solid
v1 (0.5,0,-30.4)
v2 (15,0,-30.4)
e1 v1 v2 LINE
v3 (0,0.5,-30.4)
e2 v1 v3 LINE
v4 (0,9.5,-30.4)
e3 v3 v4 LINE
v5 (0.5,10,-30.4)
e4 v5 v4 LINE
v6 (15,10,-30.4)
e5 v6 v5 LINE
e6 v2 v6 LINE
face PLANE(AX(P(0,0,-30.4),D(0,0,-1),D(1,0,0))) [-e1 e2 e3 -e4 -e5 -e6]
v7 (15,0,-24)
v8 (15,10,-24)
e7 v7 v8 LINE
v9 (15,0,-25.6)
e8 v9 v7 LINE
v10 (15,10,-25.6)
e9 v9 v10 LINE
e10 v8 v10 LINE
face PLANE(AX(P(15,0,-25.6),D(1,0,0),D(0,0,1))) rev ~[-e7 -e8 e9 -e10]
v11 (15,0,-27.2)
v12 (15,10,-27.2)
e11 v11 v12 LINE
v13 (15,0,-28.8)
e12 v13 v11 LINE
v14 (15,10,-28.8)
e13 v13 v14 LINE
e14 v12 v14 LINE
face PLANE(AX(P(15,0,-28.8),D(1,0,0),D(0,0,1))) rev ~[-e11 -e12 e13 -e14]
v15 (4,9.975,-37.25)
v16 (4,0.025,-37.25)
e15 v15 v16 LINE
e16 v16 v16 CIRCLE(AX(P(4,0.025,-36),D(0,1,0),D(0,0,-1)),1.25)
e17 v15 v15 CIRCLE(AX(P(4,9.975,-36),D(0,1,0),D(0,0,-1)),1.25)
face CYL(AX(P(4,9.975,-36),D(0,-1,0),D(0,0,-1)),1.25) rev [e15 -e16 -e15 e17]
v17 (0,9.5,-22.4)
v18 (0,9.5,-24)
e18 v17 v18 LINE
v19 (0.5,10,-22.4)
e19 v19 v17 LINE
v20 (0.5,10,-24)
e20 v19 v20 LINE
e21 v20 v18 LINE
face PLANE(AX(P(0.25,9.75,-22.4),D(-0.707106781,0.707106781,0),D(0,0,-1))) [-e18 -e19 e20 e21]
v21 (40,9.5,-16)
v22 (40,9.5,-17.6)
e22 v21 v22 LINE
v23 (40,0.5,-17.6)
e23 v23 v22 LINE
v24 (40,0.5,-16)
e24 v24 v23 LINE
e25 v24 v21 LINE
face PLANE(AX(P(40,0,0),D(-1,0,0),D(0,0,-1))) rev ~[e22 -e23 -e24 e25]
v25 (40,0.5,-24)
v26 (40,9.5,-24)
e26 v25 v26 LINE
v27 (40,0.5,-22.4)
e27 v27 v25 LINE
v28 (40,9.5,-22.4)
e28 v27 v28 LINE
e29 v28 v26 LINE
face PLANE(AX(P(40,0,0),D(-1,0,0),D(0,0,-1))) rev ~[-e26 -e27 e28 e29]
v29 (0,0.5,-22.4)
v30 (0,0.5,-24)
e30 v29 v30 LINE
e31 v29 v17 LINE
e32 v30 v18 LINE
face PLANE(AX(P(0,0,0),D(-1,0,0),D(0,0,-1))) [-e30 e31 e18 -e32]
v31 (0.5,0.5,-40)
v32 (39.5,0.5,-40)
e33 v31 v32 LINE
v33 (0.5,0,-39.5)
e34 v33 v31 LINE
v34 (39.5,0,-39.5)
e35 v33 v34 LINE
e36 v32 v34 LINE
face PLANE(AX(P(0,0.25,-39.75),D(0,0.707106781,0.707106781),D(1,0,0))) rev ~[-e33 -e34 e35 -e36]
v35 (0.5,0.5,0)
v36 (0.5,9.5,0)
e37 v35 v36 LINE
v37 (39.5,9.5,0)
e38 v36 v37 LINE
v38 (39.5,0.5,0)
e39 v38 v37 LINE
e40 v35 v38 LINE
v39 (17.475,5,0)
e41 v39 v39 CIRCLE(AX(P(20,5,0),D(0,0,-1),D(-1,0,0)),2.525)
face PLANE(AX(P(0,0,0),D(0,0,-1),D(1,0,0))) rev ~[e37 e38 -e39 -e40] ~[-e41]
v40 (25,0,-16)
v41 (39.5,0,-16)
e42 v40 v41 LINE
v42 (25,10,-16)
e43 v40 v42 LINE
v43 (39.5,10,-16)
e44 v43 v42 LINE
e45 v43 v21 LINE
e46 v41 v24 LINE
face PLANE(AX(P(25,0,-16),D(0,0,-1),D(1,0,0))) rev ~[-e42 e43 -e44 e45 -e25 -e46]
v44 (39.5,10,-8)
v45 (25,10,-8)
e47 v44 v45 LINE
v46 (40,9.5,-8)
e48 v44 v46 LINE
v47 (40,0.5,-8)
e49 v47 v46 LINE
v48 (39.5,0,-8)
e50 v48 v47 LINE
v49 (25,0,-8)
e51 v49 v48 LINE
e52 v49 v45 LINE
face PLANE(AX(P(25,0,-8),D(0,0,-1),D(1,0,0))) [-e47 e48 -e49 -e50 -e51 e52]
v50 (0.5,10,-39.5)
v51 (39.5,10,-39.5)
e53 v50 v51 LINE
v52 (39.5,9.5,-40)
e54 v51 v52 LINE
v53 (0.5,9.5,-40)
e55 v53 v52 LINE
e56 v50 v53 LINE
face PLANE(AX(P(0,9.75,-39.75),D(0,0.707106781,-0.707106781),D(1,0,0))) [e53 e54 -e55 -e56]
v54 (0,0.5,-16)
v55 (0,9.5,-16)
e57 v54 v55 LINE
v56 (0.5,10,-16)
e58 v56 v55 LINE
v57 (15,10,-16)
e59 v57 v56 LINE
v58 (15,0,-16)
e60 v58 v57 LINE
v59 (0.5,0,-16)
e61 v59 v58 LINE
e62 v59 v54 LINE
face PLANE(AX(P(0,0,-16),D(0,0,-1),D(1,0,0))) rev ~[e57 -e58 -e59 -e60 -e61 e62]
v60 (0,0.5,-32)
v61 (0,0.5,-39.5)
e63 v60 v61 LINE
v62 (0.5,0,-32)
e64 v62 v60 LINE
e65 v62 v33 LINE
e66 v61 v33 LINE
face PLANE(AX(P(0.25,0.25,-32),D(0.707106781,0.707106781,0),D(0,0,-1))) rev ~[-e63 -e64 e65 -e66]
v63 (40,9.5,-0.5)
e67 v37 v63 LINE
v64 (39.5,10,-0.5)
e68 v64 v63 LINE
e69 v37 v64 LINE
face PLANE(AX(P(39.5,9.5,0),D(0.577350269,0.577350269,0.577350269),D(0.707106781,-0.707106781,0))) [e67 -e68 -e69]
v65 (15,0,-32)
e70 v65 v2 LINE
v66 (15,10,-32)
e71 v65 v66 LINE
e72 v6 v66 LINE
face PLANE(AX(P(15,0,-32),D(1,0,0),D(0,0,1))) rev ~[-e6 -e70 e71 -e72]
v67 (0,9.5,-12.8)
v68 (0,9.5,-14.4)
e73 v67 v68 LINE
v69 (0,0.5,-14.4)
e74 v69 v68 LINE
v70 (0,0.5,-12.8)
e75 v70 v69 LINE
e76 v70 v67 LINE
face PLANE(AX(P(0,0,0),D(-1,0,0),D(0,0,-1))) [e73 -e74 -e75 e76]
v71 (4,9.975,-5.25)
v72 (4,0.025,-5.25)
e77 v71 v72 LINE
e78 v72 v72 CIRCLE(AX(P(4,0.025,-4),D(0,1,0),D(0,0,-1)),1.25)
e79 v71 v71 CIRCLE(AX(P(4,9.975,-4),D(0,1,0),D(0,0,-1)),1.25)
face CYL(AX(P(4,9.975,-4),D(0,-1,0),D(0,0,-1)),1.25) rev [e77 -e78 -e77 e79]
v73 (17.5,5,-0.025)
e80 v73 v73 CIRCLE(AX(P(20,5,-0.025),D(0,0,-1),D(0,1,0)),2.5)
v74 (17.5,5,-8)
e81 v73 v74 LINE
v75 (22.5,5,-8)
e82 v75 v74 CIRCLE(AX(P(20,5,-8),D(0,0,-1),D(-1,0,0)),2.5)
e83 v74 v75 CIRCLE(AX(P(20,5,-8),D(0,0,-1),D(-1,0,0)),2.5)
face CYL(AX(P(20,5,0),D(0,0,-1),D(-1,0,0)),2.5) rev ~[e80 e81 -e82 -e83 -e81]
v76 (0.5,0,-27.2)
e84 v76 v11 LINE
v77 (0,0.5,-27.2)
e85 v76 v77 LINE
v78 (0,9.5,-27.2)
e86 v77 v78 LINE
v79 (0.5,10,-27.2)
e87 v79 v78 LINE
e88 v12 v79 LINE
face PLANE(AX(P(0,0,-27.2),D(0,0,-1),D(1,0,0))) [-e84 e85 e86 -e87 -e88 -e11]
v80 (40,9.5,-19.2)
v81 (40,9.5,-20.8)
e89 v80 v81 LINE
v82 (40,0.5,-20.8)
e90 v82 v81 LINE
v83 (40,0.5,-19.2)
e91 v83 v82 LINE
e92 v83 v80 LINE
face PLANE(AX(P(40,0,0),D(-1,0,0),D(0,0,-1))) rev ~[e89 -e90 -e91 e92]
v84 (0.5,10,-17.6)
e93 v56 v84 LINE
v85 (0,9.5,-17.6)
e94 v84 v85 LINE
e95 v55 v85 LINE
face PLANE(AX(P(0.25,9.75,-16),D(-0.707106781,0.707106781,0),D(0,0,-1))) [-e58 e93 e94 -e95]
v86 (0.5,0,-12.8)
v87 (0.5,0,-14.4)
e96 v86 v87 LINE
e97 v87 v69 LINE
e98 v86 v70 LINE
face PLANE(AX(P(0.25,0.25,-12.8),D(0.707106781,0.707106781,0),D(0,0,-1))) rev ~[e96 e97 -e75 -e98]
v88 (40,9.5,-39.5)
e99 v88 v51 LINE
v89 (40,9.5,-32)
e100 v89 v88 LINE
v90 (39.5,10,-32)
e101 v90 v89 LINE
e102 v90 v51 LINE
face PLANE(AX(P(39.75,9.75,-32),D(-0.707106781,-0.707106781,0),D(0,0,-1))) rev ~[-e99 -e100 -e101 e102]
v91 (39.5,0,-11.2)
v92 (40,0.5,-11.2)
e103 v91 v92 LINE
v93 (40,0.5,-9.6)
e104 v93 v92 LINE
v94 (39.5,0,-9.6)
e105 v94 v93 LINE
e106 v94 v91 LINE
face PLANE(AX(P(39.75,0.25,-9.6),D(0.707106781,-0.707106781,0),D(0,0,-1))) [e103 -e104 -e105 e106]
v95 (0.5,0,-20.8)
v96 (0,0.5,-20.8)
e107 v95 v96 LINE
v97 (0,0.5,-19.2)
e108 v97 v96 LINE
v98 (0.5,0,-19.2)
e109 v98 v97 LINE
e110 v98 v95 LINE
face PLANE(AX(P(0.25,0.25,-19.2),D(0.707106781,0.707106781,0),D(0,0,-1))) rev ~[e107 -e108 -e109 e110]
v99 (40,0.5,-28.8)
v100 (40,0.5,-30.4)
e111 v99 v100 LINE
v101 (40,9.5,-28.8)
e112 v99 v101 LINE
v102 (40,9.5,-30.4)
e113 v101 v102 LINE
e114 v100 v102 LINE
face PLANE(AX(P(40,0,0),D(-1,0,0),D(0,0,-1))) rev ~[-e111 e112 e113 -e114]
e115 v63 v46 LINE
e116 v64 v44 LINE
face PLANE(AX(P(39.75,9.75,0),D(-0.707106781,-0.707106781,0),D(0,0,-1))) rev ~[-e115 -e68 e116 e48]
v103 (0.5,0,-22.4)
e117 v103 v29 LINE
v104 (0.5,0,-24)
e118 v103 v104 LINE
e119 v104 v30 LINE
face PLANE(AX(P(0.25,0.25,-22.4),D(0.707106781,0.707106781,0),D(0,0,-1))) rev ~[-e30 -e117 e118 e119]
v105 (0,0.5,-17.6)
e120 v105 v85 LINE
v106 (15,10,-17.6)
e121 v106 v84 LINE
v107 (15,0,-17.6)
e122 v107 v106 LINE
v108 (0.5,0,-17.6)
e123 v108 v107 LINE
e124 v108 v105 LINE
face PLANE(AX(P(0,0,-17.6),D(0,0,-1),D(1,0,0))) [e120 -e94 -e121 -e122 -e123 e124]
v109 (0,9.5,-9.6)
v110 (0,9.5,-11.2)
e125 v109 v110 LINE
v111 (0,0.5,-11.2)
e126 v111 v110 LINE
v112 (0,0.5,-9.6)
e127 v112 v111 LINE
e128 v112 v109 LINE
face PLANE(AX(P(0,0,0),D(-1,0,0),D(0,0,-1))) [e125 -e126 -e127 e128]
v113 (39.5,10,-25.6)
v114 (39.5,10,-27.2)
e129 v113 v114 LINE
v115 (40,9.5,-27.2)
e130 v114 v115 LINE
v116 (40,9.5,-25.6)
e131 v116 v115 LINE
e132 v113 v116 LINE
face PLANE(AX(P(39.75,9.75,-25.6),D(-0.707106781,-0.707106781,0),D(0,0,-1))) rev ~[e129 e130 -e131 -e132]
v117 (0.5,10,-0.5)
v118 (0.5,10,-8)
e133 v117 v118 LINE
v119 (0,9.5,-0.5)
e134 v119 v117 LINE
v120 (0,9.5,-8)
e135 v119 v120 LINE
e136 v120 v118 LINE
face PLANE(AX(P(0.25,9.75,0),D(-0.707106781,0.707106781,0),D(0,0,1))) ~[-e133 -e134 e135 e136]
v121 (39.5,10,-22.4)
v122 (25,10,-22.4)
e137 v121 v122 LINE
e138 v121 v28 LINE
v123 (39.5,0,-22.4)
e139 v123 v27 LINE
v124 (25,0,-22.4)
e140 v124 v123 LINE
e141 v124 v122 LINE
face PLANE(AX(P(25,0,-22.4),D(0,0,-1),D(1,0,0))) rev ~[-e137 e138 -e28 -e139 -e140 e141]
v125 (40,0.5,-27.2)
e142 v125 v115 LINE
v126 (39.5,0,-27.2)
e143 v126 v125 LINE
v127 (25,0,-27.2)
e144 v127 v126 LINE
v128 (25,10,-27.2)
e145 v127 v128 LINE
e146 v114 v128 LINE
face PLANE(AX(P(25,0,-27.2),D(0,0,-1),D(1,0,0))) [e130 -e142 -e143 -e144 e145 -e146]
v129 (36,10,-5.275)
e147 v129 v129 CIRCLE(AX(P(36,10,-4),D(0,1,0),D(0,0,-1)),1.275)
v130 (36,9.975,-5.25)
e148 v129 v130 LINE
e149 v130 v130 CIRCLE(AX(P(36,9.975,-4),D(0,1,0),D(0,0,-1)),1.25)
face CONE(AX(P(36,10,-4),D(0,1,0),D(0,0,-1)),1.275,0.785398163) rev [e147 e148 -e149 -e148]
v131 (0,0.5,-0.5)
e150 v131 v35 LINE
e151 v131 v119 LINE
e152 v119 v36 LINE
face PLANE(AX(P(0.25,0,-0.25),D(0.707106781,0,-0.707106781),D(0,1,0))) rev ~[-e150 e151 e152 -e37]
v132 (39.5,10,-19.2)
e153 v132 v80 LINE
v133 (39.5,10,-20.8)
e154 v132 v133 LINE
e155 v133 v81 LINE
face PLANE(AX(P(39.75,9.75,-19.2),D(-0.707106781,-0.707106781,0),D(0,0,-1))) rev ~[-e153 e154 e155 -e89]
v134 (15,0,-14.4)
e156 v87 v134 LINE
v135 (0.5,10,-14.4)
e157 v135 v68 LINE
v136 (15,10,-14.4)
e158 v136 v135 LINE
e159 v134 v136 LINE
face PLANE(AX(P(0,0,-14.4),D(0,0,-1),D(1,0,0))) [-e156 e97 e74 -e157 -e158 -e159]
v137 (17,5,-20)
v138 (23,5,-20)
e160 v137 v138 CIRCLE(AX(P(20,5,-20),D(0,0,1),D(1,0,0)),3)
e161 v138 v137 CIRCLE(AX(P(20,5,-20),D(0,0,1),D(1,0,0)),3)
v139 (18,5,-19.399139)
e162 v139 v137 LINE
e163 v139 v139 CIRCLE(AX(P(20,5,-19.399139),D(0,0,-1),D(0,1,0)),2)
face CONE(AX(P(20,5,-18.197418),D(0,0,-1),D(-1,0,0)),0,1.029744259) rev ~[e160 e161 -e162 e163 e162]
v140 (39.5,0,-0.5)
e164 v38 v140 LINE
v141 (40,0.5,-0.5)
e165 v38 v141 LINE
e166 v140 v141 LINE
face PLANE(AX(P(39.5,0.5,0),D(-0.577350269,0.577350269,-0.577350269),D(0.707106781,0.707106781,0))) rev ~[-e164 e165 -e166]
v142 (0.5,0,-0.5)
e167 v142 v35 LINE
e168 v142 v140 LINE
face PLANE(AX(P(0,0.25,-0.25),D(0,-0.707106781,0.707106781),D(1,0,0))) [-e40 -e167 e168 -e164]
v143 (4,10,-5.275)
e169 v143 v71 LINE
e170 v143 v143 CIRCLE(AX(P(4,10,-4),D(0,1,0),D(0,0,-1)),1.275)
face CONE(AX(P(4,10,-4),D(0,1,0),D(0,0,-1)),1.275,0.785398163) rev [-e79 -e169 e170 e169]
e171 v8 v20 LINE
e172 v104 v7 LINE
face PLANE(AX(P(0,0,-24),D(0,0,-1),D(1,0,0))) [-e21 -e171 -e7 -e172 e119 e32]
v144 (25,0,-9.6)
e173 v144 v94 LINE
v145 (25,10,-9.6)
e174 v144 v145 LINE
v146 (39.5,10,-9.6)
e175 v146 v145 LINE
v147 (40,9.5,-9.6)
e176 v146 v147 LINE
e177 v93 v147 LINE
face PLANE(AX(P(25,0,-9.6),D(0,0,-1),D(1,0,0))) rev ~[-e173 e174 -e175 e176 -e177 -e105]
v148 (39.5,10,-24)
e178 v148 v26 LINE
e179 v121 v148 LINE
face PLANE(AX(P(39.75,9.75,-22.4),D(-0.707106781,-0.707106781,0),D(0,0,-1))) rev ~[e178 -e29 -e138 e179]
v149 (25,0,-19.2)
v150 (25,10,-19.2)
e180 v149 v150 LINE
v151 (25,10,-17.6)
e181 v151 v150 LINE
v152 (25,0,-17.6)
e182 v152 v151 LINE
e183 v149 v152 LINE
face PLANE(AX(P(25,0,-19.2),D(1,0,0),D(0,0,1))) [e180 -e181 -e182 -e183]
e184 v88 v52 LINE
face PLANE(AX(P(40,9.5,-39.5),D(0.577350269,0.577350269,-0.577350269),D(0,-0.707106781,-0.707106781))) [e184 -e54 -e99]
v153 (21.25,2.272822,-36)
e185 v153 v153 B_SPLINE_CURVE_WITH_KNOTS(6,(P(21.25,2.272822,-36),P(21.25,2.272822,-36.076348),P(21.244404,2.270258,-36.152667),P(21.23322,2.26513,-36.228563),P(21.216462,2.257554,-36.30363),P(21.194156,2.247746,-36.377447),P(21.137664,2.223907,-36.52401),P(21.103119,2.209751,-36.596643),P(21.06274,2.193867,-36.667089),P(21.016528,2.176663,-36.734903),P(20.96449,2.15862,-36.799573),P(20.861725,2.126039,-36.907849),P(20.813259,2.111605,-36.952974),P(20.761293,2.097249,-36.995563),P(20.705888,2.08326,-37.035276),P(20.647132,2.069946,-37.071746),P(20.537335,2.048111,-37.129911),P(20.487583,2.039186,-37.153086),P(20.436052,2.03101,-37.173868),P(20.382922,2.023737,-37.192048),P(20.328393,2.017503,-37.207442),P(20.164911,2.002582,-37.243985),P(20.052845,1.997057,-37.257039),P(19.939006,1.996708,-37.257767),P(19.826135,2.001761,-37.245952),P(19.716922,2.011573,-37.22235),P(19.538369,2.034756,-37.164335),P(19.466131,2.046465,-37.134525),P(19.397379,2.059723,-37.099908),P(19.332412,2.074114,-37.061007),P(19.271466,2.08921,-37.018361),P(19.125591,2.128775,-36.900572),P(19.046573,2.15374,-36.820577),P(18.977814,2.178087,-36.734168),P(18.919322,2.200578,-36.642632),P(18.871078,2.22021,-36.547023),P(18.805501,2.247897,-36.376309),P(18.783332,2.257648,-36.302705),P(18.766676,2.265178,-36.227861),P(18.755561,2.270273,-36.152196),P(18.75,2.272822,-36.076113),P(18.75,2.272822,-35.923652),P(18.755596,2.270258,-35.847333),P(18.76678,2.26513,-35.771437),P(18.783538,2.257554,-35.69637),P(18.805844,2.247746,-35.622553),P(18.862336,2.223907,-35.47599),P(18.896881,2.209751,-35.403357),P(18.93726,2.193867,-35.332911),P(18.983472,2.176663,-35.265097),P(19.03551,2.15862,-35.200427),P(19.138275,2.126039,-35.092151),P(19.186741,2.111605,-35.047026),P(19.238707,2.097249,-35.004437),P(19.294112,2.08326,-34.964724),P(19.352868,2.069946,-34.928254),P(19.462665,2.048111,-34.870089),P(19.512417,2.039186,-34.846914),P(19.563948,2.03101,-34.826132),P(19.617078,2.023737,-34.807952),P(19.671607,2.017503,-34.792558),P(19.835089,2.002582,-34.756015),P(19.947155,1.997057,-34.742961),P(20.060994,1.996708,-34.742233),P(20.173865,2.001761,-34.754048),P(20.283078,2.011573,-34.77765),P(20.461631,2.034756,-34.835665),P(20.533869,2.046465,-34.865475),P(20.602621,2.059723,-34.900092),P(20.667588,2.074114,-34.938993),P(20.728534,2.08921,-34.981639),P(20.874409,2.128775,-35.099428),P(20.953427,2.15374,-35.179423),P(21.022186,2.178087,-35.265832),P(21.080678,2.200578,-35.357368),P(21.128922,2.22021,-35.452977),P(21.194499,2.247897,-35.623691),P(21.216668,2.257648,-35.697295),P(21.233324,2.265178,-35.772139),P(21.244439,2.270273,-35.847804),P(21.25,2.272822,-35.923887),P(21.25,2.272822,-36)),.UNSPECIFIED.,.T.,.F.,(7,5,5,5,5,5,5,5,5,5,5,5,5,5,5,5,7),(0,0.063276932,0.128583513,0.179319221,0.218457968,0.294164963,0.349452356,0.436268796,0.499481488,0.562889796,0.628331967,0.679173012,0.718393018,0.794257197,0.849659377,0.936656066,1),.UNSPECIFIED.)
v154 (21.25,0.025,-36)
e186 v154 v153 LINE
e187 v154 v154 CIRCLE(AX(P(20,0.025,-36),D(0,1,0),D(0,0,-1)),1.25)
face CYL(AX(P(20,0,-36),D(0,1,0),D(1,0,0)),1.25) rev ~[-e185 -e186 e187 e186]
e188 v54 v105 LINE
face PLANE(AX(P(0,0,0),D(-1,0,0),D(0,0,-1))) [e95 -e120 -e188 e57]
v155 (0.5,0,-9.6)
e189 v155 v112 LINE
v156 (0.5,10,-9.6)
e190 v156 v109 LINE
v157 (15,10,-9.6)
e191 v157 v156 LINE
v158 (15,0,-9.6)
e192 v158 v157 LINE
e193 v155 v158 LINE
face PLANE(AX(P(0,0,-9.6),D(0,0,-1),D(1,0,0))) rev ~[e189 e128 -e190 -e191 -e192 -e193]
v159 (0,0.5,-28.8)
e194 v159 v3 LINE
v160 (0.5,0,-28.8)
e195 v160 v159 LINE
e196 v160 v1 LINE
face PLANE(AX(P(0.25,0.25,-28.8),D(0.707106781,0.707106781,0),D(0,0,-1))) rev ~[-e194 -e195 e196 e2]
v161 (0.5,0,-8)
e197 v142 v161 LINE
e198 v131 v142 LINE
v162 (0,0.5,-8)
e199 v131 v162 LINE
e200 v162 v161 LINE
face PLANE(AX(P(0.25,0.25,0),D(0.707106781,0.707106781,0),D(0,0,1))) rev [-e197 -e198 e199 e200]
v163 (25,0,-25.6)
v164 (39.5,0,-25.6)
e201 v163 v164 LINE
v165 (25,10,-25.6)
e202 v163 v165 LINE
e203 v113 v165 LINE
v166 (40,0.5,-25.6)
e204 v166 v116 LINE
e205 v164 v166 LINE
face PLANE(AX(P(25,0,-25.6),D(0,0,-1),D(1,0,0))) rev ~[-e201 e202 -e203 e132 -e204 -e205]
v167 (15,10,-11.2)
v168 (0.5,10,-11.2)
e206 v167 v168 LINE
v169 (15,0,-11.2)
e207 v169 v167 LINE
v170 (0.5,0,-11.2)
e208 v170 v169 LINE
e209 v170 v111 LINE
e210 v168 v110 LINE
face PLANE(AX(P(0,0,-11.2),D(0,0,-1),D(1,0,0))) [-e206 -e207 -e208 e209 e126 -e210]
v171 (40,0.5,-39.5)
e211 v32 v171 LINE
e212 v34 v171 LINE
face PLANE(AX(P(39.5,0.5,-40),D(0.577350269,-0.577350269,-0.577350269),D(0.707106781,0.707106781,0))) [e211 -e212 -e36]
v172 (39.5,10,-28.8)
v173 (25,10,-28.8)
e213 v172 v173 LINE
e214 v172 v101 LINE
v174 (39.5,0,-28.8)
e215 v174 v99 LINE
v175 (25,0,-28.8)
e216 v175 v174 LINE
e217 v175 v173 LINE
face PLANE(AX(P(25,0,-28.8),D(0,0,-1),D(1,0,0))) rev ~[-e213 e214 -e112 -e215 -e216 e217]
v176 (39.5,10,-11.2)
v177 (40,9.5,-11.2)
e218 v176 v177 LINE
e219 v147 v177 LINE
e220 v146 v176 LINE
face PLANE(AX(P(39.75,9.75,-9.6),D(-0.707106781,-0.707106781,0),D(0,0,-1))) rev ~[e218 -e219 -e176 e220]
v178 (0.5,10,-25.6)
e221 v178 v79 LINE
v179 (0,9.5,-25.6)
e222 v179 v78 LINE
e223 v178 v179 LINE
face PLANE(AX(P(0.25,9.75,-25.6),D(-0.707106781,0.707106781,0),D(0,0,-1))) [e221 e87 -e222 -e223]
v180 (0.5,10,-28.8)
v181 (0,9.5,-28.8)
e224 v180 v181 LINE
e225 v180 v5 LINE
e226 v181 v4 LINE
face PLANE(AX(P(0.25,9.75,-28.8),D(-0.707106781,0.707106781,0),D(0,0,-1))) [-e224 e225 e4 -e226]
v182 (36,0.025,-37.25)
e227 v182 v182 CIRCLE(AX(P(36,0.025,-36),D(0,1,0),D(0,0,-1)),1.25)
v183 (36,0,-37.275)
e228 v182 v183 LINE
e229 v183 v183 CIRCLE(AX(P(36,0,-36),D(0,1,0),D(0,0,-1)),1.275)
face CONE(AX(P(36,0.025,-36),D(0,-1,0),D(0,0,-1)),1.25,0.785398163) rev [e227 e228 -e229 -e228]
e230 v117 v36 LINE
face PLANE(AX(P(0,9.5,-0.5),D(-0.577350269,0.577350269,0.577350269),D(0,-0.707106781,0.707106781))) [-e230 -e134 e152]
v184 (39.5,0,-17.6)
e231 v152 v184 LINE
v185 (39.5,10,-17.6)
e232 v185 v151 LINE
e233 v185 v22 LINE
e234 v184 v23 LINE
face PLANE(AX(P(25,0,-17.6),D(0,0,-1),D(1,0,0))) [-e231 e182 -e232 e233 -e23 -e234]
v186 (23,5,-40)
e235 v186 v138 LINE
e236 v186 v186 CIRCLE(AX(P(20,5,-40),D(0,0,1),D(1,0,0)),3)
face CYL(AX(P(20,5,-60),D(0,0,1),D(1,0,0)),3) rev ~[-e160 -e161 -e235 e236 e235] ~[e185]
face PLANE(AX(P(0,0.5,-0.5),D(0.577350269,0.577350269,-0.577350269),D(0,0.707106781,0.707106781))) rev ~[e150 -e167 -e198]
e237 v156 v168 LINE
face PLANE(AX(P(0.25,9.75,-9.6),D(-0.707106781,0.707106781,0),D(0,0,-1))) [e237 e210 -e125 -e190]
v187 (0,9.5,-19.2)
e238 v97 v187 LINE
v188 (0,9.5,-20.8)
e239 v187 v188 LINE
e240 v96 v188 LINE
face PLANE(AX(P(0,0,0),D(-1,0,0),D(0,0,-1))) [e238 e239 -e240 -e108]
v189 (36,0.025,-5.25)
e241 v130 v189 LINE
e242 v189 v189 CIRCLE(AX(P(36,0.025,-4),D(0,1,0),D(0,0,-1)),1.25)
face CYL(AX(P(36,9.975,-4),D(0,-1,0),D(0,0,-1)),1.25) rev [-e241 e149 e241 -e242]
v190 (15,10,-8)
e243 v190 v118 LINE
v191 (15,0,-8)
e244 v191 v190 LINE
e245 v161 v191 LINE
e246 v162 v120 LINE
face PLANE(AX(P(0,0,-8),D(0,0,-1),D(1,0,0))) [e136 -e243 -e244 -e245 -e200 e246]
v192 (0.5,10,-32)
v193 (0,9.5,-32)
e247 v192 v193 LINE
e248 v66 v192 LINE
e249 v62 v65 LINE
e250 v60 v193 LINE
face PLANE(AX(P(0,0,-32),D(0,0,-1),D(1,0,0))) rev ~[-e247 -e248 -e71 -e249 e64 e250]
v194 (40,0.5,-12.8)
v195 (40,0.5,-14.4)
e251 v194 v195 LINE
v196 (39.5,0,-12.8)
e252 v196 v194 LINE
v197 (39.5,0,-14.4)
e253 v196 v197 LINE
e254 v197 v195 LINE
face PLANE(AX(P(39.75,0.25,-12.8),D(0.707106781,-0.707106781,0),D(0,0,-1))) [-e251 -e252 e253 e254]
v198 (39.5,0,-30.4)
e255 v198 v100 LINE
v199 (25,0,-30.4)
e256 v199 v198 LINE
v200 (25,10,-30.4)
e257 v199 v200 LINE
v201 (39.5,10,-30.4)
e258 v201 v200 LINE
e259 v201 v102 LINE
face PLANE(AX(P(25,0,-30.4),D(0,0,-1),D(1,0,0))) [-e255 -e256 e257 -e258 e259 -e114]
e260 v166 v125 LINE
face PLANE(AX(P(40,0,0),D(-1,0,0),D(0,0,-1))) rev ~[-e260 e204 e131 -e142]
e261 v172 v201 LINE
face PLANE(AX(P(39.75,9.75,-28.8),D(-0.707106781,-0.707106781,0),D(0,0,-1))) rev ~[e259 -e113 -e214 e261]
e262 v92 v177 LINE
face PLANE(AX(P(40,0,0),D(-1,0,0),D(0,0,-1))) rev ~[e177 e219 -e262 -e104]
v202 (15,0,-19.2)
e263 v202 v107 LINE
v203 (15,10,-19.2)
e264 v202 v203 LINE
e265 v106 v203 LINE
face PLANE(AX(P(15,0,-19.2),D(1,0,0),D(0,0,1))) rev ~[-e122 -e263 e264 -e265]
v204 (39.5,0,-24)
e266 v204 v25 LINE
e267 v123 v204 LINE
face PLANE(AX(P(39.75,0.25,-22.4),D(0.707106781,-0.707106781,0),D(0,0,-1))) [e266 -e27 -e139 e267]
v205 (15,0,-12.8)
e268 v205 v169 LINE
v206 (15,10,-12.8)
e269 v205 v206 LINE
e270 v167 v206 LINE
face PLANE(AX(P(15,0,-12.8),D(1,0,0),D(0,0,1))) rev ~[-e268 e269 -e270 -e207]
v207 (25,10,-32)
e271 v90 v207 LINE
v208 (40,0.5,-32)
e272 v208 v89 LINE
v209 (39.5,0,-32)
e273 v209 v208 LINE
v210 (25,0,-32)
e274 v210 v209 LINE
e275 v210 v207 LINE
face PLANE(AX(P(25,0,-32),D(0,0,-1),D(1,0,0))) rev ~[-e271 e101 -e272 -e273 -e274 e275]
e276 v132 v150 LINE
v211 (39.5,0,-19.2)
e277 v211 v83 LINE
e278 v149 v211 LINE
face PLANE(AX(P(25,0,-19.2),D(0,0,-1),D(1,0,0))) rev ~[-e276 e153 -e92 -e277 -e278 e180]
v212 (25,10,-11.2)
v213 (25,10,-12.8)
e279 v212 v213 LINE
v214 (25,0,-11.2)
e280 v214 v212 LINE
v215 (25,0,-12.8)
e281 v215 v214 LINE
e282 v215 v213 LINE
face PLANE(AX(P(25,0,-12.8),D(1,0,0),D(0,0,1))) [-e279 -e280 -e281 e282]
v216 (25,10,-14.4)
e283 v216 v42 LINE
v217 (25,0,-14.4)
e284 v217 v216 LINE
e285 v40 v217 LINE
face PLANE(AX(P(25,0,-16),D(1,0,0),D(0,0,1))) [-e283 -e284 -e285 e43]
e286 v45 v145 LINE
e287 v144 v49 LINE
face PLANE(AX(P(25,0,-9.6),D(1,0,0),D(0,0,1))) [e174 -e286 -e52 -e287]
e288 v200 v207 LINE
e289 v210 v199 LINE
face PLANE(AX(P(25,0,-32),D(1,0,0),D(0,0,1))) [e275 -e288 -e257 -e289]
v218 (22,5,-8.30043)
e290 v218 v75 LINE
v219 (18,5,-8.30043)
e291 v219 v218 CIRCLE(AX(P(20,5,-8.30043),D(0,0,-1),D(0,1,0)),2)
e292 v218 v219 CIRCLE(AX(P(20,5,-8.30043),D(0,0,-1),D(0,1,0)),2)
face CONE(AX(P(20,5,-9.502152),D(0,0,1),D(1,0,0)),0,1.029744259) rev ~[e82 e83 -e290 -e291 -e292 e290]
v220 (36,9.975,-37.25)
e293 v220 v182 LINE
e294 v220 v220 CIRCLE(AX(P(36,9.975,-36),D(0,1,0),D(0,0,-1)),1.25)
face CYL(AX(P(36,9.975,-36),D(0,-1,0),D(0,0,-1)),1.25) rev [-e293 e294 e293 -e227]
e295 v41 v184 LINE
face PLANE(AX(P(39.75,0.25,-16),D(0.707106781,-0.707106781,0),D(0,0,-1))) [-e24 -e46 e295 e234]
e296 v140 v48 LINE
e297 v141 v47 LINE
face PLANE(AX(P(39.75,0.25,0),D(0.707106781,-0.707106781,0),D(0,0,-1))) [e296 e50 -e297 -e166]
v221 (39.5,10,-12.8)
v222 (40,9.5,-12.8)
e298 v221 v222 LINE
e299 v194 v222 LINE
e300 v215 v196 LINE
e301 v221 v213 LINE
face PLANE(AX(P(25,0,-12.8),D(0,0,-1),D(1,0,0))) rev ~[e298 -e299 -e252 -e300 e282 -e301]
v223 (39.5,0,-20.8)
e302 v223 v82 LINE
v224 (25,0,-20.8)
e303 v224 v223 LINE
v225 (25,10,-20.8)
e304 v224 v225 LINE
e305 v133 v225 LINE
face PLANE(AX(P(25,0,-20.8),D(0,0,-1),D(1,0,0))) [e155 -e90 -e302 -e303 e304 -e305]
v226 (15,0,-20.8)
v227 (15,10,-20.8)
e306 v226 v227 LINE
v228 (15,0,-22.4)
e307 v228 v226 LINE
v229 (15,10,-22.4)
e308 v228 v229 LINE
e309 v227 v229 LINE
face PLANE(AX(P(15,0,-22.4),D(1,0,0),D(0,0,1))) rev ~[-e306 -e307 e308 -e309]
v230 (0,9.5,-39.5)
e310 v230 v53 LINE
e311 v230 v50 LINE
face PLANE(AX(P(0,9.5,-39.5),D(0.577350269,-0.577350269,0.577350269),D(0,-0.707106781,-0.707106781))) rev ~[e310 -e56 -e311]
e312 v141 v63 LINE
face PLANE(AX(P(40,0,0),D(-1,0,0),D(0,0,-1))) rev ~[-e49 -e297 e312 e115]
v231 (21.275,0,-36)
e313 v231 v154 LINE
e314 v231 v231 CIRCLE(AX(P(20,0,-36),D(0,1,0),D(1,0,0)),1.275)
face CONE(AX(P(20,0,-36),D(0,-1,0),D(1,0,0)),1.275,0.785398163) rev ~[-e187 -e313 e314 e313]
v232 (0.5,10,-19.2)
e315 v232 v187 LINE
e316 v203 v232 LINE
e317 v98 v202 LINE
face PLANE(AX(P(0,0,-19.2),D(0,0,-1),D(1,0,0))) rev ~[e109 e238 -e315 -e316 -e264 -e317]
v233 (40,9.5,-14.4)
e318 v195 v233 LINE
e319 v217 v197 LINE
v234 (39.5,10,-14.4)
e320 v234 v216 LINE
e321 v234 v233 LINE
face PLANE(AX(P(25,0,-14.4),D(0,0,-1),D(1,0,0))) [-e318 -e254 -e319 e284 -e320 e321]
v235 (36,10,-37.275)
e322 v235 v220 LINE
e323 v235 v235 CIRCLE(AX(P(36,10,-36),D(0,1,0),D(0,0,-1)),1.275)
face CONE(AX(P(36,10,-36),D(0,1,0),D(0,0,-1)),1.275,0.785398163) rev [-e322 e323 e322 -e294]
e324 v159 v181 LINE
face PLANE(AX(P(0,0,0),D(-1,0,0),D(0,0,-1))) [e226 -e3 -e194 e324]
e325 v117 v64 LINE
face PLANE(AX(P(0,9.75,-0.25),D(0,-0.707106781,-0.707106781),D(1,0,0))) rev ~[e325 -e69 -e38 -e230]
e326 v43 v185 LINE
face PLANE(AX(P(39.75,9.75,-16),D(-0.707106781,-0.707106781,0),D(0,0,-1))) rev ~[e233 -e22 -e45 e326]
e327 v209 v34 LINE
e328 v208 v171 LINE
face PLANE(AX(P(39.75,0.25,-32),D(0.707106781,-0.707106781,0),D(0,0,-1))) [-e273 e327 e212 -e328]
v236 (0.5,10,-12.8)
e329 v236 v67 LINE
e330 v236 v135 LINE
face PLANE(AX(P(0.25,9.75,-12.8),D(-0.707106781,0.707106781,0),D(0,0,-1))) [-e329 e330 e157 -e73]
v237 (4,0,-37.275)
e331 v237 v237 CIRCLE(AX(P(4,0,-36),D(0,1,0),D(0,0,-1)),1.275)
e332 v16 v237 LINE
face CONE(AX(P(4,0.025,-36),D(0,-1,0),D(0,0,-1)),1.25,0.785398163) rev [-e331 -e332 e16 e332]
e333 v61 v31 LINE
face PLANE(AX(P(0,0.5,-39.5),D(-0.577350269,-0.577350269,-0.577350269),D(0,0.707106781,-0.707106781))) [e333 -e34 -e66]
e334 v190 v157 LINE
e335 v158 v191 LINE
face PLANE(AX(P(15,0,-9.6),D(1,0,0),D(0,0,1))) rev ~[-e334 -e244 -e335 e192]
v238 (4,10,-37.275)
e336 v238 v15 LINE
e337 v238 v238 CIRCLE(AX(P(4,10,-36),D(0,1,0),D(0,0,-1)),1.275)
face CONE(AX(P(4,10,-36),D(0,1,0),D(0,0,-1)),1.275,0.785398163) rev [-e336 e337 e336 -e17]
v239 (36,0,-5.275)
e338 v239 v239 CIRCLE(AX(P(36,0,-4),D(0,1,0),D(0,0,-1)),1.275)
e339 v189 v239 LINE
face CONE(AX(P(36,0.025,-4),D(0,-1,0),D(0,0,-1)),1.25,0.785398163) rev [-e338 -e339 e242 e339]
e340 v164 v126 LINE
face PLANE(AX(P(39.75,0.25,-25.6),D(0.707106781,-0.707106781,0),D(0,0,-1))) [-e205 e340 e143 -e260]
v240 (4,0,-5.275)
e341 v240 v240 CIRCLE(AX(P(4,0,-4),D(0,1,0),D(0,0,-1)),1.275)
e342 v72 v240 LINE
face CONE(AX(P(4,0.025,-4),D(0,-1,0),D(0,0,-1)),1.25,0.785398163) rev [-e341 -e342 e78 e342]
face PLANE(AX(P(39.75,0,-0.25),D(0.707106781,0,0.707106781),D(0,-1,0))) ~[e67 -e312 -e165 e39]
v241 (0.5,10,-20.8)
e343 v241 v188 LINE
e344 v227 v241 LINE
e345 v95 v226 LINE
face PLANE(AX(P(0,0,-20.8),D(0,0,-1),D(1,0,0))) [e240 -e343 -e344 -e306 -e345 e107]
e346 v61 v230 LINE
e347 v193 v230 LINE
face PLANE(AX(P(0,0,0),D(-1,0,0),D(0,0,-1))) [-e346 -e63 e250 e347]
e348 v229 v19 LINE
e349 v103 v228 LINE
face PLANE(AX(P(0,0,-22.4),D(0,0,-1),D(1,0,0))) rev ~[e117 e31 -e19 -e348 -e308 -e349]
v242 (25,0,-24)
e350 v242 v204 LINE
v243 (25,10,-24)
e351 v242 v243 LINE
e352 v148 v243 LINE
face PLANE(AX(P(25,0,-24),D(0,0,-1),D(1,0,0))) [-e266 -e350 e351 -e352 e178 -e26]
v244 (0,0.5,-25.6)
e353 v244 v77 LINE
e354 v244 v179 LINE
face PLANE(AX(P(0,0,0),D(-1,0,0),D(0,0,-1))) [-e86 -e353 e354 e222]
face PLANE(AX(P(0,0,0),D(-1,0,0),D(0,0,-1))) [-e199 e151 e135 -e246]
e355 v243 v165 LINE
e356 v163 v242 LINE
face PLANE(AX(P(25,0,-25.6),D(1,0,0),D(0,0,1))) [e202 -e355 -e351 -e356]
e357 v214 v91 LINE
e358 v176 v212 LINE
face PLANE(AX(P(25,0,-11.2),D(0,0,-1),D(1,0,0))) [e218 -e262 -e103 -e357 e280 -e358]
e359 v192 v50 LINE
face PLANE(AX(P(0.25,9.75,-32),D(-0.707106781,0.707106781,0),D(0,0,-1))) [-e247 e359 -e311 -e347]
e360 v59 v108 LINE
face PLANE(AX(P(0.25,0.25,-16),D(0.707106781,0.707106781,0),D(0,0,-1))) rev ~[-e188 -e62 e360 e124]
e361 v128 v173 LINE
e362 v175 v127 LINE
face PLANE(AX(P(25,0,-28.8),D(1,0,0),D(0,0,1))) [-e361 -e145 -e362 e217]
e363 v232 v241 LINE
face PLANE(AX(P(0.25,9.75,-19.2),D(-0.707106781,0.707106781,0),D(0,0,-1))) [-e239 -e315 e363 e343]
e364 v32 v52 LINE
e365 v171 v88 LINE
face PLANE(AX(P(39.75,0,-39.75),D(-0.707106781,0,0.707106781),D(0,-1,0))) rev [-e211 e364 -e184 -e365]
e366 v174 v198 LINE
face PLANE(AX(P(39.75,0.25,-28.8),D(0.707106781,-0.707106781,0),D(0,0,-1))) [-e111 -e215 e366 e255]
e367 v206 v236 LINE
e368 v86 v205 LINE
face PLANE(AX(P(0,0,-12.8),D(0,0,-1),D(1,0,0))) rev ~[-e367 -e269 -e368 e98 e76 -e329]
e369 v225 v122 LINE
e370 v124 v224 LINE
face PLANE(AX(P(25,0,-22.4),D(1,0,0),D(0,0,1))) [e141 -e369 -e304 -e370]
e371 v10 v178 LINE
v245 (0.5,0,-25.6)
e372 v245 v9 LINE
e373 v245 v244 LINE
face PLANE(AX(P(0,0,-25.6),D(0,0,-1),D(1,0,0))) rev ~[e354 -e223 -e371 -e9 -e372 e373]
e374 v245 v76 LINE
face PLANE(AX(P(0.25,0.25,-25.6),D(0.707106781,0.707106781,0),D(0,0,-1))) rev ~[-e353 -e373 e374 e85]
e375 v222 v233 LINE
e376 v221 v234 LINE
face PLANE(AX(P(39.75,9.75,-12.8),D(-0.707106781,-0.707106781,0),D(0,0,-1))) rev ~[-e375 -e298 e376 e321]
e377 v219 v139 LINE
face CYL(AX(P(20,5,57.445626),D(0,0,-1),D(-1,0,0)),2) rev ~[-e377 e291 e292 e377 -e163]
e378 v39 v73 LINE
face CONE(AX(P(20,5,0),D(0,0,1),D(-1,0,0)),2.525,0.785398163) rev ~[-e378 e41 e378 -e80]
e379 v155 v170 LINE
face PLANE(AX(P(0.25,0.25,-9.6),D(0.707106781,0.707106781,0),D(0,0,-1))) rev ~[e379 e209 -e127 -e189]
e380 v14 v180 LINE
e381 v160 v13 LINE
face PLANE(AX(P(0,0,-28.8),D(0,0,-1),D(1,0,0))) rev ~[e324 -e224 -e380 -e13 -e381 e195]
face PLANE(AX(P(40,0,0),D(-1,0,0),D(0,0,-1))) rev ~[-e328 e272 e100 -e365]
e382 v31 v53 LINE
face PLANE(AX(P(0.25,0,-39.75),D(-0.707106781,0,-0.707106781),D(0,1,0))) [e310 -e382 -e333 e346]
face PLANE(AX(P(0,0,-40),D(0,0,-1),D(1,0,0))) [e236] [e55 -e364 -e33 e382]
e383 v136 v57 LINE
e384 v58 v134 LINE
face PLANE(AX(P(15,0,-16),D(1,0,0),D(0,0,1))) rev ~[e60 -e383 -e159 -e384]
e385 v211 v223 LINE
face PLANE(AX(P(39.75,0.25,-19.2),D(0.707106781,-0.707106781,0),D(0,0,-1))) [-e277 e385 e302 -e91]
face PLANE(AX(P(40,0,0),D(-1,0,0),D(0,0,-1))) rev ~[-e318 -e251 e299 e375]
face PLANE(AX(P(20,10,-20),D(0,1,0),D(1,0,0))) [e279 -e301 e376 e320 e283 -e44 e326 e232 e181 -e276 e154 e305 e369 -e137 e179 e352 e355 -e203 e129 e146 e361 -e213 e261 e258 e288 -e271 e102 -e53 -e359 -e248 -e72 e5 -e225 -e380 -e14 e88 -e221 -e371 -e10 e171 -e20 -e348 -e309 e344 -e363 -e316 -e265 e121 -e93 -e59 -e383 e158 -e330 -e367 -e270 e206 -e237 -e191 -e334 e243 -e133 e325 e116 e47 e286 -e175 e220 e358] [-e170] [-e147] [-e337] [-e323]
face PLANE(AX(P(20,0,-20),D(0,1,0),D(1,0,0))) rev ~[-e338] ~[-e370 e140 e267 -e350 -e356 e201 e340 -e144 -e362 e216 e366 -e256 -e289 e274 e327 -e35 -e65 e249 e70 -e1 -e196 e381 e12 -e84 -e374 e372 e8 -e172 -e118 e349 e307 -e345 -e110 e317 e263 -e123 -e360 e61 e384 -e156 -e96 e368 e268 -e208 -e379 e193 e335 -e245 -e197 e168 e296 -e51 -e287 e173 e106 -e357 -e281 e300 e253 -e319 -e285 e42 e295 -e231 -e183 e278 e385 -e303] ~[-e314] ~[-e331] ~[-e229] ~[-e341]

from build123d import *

# Parameters (mm, degrees)
ESQUISSE1_W                                         = 40
ESQUISSE1_H                                         = 40
BOSS_EXTRU_1_DEPTH                                  = 10
DIAM_TRE_DU_PER_AGE_4_0_4_1_D                       = 4
TROU_POUR_TARAUDAGE_POUR_TROU_TARAUD_M6_D           = 5
TROU_POUR_TARAUDAGE_POUR_TROU_TARAUD_M6_DEPTH       = 8
TROU_POUR_TARAUDAGE_POUR_TROU_TARAUD_M6_CSINK_D     = 5.05
TROU_POUR_TARAUDAGE_POUR_TROU_TARAUD_M6_CSINK_ANGLE = 90
TROU_POUR_TARAUDAGE_POUR_TROU_TARAUD_M6_TIP         = 1.502151548
DIAM_TRE_DU_PER_AGE_6_0_6_1_D                       = 6
DIAM_TRE_DU_PER_AGE_6_0_6_1_DEPTH                   = 20
DIAM_TRE_DU_PER_AGE_6_0_6_1_TIP                     = 1.802581857
TROU_POUR_TARAUDAGE_POUR_TROU_TARAUD_2_COUNT        = 2
TROU_POUR_TARAUDAGE_POUR_TROU_TARAUD_2_PITCH        = 32
TROU_POUR_TARAUDAGE_POUR_TROU_TARAUD_3_COUNT        = 2
TROU_POUR_TARAUDAGE_POUR_TROU_TARAUD_3_PITCH        = 45.254833996
TROU_POUR_TARAUDAGE_POUR_TROU_TARAUD_4_COUNT        = 2
TROU_POUR_TARAUDAGE_POUR_TROU_TARAUD_4_PITCH        = 32
TROU_POUR_TARAUDAGE_POUR_TROU_TARAUD_5_D            = 2.5
TROU_POUR_TARAUDAGE_POUR_TROU_TARAUD_5_DEPTH        = 5
TROU_POUR_TARAUDAGE_POUR_TROU_TARAUD_5_CSINK_D      = 2.55
TROU_POUR_TARAUDAGE_POUR_TROU_TARAUD_5_CSINK_ANGLE  = 90
TROU_POUR_TARAUDAGE_POUR_TROU_TARAUD_5_TIP          = 0.751075774
ESQUISSE21_W                                        = 15
ESQUISSE21_H                                        = 1.6
ENL_V_MAT_EXTRU_1_DEPTH                             = 58.445626535
R_P_TITION_LIN_AIRE1_COUNT                          = 8
R_P_TITION_LIN_AIRE1_PITCH                          = 3.2
CHANFREIN1_SIZE                                     = 0.5


with BuildPart() as part:
    # Esquisse1 → Boss.-Extru.1 (new body)
    with BuildSketch(Plane(origin=(0, 0, 0), x_dir=(1, 0, 0), z_dir=(0, 1, 0))):
        with Locations((20, 20)):
            Rectangle(ESQUISSE1_W, ESQUISSE1_H)
    extrude(amount=BOSS_EXTRU_1_DEPTH)

    # Diamètre du perçage Ø4.0 (4)1 (through all)
    with Locations(Plane.XY):
        with Locations((20, 5)):
            Hole(DIAM_TRE_DU_PER_AGE_4_0_4_1_D / 2)

    # Trou pour taraudage pour trou taraudé M61
    with Locations(Plane.XY):
        with Locations((20, 5)):
            CounterSinkHole(TROU_POUR_TARAUDAGE_POUR_TROU_TARAUD_M6_D / 2, TROU_POUR_TARAUDAGE_POUR_TROU_TARAUD_M6_CSINK_D / 2, depth=TROU_POUR_TARAUDAGE_POUR_TROU_TARAUD_M6_DEPTH, counter_sink_angle=TROU_POUR_TARAUDAGE_POUR_TROU_TARAUD_M6_CSINK_ANGLE)
            with Locations((0, 0, -(TROU_POUR_TARAUDAGE_POUR_TROU_TARAUD_M6_DEPTH + TROU_POUR_TARAUDAGE_POUR_TROU_TARAUD_M6_TIP / 2))):  # 118° drill point
                Cone(0, TROU_POUR_TARAUDAGE_POUR_TROU_TARAUD_M6_D / 2, TROU_POUR_TARAUDAGE_POUR_TROU_TARAUD_M6_TIP, mode=Mode.SUBTRACT)

    # Diamètre du perçage Ø6.0 (6)1
    with Locations(Plane(origin=(0, 0, -40), x_dir=(-1, 0, 0), z_dir=(0, 0, -1))):
        with Locations((-20, 5)):
            Hole(DIAM_TRE_DU_PER_AGE_6_0_6_1_D / 2, depth=DIAM_TRE_DU_PER_AGE_6_0_6_1_DEPTH)
            with Locations((0, 0, -(DIAM_TRE_DU_PER_AGE_6_0_6_1_DEPTH + DIAM_TRE_DU_PER_AGE_6_0_6_1_TIP / 2))):  # 118° drill point
                Cone(0, DIAM_TRE_DU_PER_AGE_6_0_6_1_D / 2, DIAM_TRE_DU_PER_AGE_6_0_6_1_TIP, mode=Mode.SUBTRACT)

    # Esquisse17 → Trou pour taraudage pour trou taraud_ M3 (revolve, cut)
    with BuildSketch(Plane(origin=(4, 0, -4), x_dir=(0, 0, -1), z_dir=(1, 0, 0))):
        Polygon((0, 0), (0, 10), (1.275, 10), (1.25, 9.975), (1.25, 0.025), (1.275, 0), align=None)
    trou_pour_taraudage_pour_trou_taraud_m3 = revolve(axis=Axis((4, -6.35, -4), (0, 1, 0)), mode=Mode.SUBTRACT)

    # Trou pour taraudage pour trou taraud 2: Trou pour taraudage pour trou taraud_ M3 ×2
    with Locations(*[(i * TROU_POUR_TARAUDAGE_POUR_TROU_TARAUD_2_PITCH, 0, 0) for i in range(1, TROU_POUR_TARAUDAGE_POUR_TROU_TARAUD_2_COUNT)]):
        add(trou_pour_taraudage_pour_trou_taraud_m3, mode=Mode.SUBTRACT)

    # Trou pour taraudage pour trou taraud 3: Trou pour taraudage pour trou taraud_ M3 ×2
    with Locations(*[Vector(0.7071067811865475, 0, -0.7071067811865476) * (i * TROU_POUR_TARAUDAGE_POUR_TROU_TARAUD_3_PITCH) for i in range(1, TROU_POUR_TARAUDAGE_POUR_TROU_TARAUD_3_COUNT)]):
        add(trou_pour_taraudage_pour_trou_taraud_m3, mode=Mode.SUBTRACT)

    # Trou pour taraudage pour trou taraud 4: Trou pour taraudage pour trou taraud_ M3 ×2
    with Locations(*[(0, 0, -i * TROU_POUR_TARAUDAGE_POUR_TROU_TARAUD_4_PITCH) for i in range(1, TROU_POUR_TARAUDAGE_POUR_TROU_TARAUD_4_COUNT)]):
        add(trou_pour_taraudage_pour_trou_taraud_m3, mode=Mode.SUBTRACT)

    # Trou pour taraudage pour trou taraud 5
    with Locations(Plane(origin=(0, 0, 0), x_dir=(-1, 0, 0), z_dir=(0, -1, 0))):
        with Locations((-20, 36)):
            CounterSinkHole(TROU_POUR_TARAUDAGE_POUR_TROU_TARAUD_5_D / 2, TROU_POUR_TARAUDAGE_POUR_TROU_TARAUD_5_CSINK_D / 2, depth=TROU_POUR_TARAUDAGE_POUR_TROU_TARAUD_5_DEPTH, counter_sink_angle=TROU_POUR_TARAUDAGE_POUR_TROU_TARAUD_5_CSINK_ANGLE)
            with Locations((0, 0, -(TROU_POUR_TARAUDAGE_POUR_TROU_TARAUD_5_DEPTH + TROU_POUR_TARAUDAGE_POUR_TROU_TARAUD_5_TIP / 2))):  # 118° drill point
                Cone(0, TROU_POUR_TARAUDAGE_POUR_TROU_TARAUD_5_D / 2, TROU_POUR_TARAUDAGE_POUR_TROU_TARAUD_5_TIP, mode=Mode.SUBTRACT)

    # Esquisse21 → Enlèv. mat.-Extru.1 (cut, through all)
    with BuildSketch(Plane.XZ):
        with Locations((7.5, -8.8)):
            Rectangle(ESQUISSE21_W, ESQUISSE21_H)
        with Locations((32.5, -8.8)):
            Rectangle(ESQUISSE21_W, ESQUISSE21_H)
    enl_v_mat_extru_1 = extrude(amount=-ENL_V_MAT_EXTRU_1_DEPTH, mode=Mode.SUBTRACT)

    # Répétition linéaire1: Enlèv. mat.-Extru.1 ×8
    with Locations(*[(0, 0, -i * R_P_TITION_LIN_AIRE1_PITCH) for i in range(1, R_P_TITION_LIN_AIRE1_COUNT)]):
        add(enl_v_mat_extru_1, mode=Mode.SUBTRACT)

    # Chanfrein1
    chanfrein1_edges = [part.edges().sort_by_distance(p)[0] for p in [
        (40, 10, -4),
        (0, 0, -10.4),
        (0, 10, -10.4),
        (40, 0, -13.6),
        (40, 10, -13.6),
        (20, 10, -40),
        (0, 0, -13.6),
        (0, 10, -13.6),
        (40, 0, -16.8),
        (40, 10, -16.8),
        (0, 0, -16.8),
        (0, 10, -16.8),
        (40, 0, -20),
        (40, 10, -20),
        (0, 0, -20),
        (0, 10, -20),
        (40, 0, -23.2),
        (40, 10, -23.2),
        (0, 0, -23.2),
        (0, 10, -23.2),
        (40, 0, -26.4),
        (40, 10, -26.4),
        (0, 0, -26.4),
        (0, 10, -26.4),
        (40, 0, -29.6),
        (40, 10, -29.6),
        (0, 0, -29.6),
        (0, 10, -29.6),
        (40, 0, -36),
        (40, 10, -36),
        (0, 10, -36),
        (20, 0, -40),
        (40, 0, -4),
        (20, 0, 0),
        (0, 0, -36),
        (20, 10, 0),
        (0, 0, -4),
        (0, 5, -40),
        (40, 5, -40),
        (0, 10, -4),
        (40, 5, 0),
        (0, 5, 0),
        (40, 0, -10.4),
        (40, 10, -10.4),
    ]]
    chamfer(chanfrein1_edges, length=CHANFREIN1_SIZE)


solid = part.part
